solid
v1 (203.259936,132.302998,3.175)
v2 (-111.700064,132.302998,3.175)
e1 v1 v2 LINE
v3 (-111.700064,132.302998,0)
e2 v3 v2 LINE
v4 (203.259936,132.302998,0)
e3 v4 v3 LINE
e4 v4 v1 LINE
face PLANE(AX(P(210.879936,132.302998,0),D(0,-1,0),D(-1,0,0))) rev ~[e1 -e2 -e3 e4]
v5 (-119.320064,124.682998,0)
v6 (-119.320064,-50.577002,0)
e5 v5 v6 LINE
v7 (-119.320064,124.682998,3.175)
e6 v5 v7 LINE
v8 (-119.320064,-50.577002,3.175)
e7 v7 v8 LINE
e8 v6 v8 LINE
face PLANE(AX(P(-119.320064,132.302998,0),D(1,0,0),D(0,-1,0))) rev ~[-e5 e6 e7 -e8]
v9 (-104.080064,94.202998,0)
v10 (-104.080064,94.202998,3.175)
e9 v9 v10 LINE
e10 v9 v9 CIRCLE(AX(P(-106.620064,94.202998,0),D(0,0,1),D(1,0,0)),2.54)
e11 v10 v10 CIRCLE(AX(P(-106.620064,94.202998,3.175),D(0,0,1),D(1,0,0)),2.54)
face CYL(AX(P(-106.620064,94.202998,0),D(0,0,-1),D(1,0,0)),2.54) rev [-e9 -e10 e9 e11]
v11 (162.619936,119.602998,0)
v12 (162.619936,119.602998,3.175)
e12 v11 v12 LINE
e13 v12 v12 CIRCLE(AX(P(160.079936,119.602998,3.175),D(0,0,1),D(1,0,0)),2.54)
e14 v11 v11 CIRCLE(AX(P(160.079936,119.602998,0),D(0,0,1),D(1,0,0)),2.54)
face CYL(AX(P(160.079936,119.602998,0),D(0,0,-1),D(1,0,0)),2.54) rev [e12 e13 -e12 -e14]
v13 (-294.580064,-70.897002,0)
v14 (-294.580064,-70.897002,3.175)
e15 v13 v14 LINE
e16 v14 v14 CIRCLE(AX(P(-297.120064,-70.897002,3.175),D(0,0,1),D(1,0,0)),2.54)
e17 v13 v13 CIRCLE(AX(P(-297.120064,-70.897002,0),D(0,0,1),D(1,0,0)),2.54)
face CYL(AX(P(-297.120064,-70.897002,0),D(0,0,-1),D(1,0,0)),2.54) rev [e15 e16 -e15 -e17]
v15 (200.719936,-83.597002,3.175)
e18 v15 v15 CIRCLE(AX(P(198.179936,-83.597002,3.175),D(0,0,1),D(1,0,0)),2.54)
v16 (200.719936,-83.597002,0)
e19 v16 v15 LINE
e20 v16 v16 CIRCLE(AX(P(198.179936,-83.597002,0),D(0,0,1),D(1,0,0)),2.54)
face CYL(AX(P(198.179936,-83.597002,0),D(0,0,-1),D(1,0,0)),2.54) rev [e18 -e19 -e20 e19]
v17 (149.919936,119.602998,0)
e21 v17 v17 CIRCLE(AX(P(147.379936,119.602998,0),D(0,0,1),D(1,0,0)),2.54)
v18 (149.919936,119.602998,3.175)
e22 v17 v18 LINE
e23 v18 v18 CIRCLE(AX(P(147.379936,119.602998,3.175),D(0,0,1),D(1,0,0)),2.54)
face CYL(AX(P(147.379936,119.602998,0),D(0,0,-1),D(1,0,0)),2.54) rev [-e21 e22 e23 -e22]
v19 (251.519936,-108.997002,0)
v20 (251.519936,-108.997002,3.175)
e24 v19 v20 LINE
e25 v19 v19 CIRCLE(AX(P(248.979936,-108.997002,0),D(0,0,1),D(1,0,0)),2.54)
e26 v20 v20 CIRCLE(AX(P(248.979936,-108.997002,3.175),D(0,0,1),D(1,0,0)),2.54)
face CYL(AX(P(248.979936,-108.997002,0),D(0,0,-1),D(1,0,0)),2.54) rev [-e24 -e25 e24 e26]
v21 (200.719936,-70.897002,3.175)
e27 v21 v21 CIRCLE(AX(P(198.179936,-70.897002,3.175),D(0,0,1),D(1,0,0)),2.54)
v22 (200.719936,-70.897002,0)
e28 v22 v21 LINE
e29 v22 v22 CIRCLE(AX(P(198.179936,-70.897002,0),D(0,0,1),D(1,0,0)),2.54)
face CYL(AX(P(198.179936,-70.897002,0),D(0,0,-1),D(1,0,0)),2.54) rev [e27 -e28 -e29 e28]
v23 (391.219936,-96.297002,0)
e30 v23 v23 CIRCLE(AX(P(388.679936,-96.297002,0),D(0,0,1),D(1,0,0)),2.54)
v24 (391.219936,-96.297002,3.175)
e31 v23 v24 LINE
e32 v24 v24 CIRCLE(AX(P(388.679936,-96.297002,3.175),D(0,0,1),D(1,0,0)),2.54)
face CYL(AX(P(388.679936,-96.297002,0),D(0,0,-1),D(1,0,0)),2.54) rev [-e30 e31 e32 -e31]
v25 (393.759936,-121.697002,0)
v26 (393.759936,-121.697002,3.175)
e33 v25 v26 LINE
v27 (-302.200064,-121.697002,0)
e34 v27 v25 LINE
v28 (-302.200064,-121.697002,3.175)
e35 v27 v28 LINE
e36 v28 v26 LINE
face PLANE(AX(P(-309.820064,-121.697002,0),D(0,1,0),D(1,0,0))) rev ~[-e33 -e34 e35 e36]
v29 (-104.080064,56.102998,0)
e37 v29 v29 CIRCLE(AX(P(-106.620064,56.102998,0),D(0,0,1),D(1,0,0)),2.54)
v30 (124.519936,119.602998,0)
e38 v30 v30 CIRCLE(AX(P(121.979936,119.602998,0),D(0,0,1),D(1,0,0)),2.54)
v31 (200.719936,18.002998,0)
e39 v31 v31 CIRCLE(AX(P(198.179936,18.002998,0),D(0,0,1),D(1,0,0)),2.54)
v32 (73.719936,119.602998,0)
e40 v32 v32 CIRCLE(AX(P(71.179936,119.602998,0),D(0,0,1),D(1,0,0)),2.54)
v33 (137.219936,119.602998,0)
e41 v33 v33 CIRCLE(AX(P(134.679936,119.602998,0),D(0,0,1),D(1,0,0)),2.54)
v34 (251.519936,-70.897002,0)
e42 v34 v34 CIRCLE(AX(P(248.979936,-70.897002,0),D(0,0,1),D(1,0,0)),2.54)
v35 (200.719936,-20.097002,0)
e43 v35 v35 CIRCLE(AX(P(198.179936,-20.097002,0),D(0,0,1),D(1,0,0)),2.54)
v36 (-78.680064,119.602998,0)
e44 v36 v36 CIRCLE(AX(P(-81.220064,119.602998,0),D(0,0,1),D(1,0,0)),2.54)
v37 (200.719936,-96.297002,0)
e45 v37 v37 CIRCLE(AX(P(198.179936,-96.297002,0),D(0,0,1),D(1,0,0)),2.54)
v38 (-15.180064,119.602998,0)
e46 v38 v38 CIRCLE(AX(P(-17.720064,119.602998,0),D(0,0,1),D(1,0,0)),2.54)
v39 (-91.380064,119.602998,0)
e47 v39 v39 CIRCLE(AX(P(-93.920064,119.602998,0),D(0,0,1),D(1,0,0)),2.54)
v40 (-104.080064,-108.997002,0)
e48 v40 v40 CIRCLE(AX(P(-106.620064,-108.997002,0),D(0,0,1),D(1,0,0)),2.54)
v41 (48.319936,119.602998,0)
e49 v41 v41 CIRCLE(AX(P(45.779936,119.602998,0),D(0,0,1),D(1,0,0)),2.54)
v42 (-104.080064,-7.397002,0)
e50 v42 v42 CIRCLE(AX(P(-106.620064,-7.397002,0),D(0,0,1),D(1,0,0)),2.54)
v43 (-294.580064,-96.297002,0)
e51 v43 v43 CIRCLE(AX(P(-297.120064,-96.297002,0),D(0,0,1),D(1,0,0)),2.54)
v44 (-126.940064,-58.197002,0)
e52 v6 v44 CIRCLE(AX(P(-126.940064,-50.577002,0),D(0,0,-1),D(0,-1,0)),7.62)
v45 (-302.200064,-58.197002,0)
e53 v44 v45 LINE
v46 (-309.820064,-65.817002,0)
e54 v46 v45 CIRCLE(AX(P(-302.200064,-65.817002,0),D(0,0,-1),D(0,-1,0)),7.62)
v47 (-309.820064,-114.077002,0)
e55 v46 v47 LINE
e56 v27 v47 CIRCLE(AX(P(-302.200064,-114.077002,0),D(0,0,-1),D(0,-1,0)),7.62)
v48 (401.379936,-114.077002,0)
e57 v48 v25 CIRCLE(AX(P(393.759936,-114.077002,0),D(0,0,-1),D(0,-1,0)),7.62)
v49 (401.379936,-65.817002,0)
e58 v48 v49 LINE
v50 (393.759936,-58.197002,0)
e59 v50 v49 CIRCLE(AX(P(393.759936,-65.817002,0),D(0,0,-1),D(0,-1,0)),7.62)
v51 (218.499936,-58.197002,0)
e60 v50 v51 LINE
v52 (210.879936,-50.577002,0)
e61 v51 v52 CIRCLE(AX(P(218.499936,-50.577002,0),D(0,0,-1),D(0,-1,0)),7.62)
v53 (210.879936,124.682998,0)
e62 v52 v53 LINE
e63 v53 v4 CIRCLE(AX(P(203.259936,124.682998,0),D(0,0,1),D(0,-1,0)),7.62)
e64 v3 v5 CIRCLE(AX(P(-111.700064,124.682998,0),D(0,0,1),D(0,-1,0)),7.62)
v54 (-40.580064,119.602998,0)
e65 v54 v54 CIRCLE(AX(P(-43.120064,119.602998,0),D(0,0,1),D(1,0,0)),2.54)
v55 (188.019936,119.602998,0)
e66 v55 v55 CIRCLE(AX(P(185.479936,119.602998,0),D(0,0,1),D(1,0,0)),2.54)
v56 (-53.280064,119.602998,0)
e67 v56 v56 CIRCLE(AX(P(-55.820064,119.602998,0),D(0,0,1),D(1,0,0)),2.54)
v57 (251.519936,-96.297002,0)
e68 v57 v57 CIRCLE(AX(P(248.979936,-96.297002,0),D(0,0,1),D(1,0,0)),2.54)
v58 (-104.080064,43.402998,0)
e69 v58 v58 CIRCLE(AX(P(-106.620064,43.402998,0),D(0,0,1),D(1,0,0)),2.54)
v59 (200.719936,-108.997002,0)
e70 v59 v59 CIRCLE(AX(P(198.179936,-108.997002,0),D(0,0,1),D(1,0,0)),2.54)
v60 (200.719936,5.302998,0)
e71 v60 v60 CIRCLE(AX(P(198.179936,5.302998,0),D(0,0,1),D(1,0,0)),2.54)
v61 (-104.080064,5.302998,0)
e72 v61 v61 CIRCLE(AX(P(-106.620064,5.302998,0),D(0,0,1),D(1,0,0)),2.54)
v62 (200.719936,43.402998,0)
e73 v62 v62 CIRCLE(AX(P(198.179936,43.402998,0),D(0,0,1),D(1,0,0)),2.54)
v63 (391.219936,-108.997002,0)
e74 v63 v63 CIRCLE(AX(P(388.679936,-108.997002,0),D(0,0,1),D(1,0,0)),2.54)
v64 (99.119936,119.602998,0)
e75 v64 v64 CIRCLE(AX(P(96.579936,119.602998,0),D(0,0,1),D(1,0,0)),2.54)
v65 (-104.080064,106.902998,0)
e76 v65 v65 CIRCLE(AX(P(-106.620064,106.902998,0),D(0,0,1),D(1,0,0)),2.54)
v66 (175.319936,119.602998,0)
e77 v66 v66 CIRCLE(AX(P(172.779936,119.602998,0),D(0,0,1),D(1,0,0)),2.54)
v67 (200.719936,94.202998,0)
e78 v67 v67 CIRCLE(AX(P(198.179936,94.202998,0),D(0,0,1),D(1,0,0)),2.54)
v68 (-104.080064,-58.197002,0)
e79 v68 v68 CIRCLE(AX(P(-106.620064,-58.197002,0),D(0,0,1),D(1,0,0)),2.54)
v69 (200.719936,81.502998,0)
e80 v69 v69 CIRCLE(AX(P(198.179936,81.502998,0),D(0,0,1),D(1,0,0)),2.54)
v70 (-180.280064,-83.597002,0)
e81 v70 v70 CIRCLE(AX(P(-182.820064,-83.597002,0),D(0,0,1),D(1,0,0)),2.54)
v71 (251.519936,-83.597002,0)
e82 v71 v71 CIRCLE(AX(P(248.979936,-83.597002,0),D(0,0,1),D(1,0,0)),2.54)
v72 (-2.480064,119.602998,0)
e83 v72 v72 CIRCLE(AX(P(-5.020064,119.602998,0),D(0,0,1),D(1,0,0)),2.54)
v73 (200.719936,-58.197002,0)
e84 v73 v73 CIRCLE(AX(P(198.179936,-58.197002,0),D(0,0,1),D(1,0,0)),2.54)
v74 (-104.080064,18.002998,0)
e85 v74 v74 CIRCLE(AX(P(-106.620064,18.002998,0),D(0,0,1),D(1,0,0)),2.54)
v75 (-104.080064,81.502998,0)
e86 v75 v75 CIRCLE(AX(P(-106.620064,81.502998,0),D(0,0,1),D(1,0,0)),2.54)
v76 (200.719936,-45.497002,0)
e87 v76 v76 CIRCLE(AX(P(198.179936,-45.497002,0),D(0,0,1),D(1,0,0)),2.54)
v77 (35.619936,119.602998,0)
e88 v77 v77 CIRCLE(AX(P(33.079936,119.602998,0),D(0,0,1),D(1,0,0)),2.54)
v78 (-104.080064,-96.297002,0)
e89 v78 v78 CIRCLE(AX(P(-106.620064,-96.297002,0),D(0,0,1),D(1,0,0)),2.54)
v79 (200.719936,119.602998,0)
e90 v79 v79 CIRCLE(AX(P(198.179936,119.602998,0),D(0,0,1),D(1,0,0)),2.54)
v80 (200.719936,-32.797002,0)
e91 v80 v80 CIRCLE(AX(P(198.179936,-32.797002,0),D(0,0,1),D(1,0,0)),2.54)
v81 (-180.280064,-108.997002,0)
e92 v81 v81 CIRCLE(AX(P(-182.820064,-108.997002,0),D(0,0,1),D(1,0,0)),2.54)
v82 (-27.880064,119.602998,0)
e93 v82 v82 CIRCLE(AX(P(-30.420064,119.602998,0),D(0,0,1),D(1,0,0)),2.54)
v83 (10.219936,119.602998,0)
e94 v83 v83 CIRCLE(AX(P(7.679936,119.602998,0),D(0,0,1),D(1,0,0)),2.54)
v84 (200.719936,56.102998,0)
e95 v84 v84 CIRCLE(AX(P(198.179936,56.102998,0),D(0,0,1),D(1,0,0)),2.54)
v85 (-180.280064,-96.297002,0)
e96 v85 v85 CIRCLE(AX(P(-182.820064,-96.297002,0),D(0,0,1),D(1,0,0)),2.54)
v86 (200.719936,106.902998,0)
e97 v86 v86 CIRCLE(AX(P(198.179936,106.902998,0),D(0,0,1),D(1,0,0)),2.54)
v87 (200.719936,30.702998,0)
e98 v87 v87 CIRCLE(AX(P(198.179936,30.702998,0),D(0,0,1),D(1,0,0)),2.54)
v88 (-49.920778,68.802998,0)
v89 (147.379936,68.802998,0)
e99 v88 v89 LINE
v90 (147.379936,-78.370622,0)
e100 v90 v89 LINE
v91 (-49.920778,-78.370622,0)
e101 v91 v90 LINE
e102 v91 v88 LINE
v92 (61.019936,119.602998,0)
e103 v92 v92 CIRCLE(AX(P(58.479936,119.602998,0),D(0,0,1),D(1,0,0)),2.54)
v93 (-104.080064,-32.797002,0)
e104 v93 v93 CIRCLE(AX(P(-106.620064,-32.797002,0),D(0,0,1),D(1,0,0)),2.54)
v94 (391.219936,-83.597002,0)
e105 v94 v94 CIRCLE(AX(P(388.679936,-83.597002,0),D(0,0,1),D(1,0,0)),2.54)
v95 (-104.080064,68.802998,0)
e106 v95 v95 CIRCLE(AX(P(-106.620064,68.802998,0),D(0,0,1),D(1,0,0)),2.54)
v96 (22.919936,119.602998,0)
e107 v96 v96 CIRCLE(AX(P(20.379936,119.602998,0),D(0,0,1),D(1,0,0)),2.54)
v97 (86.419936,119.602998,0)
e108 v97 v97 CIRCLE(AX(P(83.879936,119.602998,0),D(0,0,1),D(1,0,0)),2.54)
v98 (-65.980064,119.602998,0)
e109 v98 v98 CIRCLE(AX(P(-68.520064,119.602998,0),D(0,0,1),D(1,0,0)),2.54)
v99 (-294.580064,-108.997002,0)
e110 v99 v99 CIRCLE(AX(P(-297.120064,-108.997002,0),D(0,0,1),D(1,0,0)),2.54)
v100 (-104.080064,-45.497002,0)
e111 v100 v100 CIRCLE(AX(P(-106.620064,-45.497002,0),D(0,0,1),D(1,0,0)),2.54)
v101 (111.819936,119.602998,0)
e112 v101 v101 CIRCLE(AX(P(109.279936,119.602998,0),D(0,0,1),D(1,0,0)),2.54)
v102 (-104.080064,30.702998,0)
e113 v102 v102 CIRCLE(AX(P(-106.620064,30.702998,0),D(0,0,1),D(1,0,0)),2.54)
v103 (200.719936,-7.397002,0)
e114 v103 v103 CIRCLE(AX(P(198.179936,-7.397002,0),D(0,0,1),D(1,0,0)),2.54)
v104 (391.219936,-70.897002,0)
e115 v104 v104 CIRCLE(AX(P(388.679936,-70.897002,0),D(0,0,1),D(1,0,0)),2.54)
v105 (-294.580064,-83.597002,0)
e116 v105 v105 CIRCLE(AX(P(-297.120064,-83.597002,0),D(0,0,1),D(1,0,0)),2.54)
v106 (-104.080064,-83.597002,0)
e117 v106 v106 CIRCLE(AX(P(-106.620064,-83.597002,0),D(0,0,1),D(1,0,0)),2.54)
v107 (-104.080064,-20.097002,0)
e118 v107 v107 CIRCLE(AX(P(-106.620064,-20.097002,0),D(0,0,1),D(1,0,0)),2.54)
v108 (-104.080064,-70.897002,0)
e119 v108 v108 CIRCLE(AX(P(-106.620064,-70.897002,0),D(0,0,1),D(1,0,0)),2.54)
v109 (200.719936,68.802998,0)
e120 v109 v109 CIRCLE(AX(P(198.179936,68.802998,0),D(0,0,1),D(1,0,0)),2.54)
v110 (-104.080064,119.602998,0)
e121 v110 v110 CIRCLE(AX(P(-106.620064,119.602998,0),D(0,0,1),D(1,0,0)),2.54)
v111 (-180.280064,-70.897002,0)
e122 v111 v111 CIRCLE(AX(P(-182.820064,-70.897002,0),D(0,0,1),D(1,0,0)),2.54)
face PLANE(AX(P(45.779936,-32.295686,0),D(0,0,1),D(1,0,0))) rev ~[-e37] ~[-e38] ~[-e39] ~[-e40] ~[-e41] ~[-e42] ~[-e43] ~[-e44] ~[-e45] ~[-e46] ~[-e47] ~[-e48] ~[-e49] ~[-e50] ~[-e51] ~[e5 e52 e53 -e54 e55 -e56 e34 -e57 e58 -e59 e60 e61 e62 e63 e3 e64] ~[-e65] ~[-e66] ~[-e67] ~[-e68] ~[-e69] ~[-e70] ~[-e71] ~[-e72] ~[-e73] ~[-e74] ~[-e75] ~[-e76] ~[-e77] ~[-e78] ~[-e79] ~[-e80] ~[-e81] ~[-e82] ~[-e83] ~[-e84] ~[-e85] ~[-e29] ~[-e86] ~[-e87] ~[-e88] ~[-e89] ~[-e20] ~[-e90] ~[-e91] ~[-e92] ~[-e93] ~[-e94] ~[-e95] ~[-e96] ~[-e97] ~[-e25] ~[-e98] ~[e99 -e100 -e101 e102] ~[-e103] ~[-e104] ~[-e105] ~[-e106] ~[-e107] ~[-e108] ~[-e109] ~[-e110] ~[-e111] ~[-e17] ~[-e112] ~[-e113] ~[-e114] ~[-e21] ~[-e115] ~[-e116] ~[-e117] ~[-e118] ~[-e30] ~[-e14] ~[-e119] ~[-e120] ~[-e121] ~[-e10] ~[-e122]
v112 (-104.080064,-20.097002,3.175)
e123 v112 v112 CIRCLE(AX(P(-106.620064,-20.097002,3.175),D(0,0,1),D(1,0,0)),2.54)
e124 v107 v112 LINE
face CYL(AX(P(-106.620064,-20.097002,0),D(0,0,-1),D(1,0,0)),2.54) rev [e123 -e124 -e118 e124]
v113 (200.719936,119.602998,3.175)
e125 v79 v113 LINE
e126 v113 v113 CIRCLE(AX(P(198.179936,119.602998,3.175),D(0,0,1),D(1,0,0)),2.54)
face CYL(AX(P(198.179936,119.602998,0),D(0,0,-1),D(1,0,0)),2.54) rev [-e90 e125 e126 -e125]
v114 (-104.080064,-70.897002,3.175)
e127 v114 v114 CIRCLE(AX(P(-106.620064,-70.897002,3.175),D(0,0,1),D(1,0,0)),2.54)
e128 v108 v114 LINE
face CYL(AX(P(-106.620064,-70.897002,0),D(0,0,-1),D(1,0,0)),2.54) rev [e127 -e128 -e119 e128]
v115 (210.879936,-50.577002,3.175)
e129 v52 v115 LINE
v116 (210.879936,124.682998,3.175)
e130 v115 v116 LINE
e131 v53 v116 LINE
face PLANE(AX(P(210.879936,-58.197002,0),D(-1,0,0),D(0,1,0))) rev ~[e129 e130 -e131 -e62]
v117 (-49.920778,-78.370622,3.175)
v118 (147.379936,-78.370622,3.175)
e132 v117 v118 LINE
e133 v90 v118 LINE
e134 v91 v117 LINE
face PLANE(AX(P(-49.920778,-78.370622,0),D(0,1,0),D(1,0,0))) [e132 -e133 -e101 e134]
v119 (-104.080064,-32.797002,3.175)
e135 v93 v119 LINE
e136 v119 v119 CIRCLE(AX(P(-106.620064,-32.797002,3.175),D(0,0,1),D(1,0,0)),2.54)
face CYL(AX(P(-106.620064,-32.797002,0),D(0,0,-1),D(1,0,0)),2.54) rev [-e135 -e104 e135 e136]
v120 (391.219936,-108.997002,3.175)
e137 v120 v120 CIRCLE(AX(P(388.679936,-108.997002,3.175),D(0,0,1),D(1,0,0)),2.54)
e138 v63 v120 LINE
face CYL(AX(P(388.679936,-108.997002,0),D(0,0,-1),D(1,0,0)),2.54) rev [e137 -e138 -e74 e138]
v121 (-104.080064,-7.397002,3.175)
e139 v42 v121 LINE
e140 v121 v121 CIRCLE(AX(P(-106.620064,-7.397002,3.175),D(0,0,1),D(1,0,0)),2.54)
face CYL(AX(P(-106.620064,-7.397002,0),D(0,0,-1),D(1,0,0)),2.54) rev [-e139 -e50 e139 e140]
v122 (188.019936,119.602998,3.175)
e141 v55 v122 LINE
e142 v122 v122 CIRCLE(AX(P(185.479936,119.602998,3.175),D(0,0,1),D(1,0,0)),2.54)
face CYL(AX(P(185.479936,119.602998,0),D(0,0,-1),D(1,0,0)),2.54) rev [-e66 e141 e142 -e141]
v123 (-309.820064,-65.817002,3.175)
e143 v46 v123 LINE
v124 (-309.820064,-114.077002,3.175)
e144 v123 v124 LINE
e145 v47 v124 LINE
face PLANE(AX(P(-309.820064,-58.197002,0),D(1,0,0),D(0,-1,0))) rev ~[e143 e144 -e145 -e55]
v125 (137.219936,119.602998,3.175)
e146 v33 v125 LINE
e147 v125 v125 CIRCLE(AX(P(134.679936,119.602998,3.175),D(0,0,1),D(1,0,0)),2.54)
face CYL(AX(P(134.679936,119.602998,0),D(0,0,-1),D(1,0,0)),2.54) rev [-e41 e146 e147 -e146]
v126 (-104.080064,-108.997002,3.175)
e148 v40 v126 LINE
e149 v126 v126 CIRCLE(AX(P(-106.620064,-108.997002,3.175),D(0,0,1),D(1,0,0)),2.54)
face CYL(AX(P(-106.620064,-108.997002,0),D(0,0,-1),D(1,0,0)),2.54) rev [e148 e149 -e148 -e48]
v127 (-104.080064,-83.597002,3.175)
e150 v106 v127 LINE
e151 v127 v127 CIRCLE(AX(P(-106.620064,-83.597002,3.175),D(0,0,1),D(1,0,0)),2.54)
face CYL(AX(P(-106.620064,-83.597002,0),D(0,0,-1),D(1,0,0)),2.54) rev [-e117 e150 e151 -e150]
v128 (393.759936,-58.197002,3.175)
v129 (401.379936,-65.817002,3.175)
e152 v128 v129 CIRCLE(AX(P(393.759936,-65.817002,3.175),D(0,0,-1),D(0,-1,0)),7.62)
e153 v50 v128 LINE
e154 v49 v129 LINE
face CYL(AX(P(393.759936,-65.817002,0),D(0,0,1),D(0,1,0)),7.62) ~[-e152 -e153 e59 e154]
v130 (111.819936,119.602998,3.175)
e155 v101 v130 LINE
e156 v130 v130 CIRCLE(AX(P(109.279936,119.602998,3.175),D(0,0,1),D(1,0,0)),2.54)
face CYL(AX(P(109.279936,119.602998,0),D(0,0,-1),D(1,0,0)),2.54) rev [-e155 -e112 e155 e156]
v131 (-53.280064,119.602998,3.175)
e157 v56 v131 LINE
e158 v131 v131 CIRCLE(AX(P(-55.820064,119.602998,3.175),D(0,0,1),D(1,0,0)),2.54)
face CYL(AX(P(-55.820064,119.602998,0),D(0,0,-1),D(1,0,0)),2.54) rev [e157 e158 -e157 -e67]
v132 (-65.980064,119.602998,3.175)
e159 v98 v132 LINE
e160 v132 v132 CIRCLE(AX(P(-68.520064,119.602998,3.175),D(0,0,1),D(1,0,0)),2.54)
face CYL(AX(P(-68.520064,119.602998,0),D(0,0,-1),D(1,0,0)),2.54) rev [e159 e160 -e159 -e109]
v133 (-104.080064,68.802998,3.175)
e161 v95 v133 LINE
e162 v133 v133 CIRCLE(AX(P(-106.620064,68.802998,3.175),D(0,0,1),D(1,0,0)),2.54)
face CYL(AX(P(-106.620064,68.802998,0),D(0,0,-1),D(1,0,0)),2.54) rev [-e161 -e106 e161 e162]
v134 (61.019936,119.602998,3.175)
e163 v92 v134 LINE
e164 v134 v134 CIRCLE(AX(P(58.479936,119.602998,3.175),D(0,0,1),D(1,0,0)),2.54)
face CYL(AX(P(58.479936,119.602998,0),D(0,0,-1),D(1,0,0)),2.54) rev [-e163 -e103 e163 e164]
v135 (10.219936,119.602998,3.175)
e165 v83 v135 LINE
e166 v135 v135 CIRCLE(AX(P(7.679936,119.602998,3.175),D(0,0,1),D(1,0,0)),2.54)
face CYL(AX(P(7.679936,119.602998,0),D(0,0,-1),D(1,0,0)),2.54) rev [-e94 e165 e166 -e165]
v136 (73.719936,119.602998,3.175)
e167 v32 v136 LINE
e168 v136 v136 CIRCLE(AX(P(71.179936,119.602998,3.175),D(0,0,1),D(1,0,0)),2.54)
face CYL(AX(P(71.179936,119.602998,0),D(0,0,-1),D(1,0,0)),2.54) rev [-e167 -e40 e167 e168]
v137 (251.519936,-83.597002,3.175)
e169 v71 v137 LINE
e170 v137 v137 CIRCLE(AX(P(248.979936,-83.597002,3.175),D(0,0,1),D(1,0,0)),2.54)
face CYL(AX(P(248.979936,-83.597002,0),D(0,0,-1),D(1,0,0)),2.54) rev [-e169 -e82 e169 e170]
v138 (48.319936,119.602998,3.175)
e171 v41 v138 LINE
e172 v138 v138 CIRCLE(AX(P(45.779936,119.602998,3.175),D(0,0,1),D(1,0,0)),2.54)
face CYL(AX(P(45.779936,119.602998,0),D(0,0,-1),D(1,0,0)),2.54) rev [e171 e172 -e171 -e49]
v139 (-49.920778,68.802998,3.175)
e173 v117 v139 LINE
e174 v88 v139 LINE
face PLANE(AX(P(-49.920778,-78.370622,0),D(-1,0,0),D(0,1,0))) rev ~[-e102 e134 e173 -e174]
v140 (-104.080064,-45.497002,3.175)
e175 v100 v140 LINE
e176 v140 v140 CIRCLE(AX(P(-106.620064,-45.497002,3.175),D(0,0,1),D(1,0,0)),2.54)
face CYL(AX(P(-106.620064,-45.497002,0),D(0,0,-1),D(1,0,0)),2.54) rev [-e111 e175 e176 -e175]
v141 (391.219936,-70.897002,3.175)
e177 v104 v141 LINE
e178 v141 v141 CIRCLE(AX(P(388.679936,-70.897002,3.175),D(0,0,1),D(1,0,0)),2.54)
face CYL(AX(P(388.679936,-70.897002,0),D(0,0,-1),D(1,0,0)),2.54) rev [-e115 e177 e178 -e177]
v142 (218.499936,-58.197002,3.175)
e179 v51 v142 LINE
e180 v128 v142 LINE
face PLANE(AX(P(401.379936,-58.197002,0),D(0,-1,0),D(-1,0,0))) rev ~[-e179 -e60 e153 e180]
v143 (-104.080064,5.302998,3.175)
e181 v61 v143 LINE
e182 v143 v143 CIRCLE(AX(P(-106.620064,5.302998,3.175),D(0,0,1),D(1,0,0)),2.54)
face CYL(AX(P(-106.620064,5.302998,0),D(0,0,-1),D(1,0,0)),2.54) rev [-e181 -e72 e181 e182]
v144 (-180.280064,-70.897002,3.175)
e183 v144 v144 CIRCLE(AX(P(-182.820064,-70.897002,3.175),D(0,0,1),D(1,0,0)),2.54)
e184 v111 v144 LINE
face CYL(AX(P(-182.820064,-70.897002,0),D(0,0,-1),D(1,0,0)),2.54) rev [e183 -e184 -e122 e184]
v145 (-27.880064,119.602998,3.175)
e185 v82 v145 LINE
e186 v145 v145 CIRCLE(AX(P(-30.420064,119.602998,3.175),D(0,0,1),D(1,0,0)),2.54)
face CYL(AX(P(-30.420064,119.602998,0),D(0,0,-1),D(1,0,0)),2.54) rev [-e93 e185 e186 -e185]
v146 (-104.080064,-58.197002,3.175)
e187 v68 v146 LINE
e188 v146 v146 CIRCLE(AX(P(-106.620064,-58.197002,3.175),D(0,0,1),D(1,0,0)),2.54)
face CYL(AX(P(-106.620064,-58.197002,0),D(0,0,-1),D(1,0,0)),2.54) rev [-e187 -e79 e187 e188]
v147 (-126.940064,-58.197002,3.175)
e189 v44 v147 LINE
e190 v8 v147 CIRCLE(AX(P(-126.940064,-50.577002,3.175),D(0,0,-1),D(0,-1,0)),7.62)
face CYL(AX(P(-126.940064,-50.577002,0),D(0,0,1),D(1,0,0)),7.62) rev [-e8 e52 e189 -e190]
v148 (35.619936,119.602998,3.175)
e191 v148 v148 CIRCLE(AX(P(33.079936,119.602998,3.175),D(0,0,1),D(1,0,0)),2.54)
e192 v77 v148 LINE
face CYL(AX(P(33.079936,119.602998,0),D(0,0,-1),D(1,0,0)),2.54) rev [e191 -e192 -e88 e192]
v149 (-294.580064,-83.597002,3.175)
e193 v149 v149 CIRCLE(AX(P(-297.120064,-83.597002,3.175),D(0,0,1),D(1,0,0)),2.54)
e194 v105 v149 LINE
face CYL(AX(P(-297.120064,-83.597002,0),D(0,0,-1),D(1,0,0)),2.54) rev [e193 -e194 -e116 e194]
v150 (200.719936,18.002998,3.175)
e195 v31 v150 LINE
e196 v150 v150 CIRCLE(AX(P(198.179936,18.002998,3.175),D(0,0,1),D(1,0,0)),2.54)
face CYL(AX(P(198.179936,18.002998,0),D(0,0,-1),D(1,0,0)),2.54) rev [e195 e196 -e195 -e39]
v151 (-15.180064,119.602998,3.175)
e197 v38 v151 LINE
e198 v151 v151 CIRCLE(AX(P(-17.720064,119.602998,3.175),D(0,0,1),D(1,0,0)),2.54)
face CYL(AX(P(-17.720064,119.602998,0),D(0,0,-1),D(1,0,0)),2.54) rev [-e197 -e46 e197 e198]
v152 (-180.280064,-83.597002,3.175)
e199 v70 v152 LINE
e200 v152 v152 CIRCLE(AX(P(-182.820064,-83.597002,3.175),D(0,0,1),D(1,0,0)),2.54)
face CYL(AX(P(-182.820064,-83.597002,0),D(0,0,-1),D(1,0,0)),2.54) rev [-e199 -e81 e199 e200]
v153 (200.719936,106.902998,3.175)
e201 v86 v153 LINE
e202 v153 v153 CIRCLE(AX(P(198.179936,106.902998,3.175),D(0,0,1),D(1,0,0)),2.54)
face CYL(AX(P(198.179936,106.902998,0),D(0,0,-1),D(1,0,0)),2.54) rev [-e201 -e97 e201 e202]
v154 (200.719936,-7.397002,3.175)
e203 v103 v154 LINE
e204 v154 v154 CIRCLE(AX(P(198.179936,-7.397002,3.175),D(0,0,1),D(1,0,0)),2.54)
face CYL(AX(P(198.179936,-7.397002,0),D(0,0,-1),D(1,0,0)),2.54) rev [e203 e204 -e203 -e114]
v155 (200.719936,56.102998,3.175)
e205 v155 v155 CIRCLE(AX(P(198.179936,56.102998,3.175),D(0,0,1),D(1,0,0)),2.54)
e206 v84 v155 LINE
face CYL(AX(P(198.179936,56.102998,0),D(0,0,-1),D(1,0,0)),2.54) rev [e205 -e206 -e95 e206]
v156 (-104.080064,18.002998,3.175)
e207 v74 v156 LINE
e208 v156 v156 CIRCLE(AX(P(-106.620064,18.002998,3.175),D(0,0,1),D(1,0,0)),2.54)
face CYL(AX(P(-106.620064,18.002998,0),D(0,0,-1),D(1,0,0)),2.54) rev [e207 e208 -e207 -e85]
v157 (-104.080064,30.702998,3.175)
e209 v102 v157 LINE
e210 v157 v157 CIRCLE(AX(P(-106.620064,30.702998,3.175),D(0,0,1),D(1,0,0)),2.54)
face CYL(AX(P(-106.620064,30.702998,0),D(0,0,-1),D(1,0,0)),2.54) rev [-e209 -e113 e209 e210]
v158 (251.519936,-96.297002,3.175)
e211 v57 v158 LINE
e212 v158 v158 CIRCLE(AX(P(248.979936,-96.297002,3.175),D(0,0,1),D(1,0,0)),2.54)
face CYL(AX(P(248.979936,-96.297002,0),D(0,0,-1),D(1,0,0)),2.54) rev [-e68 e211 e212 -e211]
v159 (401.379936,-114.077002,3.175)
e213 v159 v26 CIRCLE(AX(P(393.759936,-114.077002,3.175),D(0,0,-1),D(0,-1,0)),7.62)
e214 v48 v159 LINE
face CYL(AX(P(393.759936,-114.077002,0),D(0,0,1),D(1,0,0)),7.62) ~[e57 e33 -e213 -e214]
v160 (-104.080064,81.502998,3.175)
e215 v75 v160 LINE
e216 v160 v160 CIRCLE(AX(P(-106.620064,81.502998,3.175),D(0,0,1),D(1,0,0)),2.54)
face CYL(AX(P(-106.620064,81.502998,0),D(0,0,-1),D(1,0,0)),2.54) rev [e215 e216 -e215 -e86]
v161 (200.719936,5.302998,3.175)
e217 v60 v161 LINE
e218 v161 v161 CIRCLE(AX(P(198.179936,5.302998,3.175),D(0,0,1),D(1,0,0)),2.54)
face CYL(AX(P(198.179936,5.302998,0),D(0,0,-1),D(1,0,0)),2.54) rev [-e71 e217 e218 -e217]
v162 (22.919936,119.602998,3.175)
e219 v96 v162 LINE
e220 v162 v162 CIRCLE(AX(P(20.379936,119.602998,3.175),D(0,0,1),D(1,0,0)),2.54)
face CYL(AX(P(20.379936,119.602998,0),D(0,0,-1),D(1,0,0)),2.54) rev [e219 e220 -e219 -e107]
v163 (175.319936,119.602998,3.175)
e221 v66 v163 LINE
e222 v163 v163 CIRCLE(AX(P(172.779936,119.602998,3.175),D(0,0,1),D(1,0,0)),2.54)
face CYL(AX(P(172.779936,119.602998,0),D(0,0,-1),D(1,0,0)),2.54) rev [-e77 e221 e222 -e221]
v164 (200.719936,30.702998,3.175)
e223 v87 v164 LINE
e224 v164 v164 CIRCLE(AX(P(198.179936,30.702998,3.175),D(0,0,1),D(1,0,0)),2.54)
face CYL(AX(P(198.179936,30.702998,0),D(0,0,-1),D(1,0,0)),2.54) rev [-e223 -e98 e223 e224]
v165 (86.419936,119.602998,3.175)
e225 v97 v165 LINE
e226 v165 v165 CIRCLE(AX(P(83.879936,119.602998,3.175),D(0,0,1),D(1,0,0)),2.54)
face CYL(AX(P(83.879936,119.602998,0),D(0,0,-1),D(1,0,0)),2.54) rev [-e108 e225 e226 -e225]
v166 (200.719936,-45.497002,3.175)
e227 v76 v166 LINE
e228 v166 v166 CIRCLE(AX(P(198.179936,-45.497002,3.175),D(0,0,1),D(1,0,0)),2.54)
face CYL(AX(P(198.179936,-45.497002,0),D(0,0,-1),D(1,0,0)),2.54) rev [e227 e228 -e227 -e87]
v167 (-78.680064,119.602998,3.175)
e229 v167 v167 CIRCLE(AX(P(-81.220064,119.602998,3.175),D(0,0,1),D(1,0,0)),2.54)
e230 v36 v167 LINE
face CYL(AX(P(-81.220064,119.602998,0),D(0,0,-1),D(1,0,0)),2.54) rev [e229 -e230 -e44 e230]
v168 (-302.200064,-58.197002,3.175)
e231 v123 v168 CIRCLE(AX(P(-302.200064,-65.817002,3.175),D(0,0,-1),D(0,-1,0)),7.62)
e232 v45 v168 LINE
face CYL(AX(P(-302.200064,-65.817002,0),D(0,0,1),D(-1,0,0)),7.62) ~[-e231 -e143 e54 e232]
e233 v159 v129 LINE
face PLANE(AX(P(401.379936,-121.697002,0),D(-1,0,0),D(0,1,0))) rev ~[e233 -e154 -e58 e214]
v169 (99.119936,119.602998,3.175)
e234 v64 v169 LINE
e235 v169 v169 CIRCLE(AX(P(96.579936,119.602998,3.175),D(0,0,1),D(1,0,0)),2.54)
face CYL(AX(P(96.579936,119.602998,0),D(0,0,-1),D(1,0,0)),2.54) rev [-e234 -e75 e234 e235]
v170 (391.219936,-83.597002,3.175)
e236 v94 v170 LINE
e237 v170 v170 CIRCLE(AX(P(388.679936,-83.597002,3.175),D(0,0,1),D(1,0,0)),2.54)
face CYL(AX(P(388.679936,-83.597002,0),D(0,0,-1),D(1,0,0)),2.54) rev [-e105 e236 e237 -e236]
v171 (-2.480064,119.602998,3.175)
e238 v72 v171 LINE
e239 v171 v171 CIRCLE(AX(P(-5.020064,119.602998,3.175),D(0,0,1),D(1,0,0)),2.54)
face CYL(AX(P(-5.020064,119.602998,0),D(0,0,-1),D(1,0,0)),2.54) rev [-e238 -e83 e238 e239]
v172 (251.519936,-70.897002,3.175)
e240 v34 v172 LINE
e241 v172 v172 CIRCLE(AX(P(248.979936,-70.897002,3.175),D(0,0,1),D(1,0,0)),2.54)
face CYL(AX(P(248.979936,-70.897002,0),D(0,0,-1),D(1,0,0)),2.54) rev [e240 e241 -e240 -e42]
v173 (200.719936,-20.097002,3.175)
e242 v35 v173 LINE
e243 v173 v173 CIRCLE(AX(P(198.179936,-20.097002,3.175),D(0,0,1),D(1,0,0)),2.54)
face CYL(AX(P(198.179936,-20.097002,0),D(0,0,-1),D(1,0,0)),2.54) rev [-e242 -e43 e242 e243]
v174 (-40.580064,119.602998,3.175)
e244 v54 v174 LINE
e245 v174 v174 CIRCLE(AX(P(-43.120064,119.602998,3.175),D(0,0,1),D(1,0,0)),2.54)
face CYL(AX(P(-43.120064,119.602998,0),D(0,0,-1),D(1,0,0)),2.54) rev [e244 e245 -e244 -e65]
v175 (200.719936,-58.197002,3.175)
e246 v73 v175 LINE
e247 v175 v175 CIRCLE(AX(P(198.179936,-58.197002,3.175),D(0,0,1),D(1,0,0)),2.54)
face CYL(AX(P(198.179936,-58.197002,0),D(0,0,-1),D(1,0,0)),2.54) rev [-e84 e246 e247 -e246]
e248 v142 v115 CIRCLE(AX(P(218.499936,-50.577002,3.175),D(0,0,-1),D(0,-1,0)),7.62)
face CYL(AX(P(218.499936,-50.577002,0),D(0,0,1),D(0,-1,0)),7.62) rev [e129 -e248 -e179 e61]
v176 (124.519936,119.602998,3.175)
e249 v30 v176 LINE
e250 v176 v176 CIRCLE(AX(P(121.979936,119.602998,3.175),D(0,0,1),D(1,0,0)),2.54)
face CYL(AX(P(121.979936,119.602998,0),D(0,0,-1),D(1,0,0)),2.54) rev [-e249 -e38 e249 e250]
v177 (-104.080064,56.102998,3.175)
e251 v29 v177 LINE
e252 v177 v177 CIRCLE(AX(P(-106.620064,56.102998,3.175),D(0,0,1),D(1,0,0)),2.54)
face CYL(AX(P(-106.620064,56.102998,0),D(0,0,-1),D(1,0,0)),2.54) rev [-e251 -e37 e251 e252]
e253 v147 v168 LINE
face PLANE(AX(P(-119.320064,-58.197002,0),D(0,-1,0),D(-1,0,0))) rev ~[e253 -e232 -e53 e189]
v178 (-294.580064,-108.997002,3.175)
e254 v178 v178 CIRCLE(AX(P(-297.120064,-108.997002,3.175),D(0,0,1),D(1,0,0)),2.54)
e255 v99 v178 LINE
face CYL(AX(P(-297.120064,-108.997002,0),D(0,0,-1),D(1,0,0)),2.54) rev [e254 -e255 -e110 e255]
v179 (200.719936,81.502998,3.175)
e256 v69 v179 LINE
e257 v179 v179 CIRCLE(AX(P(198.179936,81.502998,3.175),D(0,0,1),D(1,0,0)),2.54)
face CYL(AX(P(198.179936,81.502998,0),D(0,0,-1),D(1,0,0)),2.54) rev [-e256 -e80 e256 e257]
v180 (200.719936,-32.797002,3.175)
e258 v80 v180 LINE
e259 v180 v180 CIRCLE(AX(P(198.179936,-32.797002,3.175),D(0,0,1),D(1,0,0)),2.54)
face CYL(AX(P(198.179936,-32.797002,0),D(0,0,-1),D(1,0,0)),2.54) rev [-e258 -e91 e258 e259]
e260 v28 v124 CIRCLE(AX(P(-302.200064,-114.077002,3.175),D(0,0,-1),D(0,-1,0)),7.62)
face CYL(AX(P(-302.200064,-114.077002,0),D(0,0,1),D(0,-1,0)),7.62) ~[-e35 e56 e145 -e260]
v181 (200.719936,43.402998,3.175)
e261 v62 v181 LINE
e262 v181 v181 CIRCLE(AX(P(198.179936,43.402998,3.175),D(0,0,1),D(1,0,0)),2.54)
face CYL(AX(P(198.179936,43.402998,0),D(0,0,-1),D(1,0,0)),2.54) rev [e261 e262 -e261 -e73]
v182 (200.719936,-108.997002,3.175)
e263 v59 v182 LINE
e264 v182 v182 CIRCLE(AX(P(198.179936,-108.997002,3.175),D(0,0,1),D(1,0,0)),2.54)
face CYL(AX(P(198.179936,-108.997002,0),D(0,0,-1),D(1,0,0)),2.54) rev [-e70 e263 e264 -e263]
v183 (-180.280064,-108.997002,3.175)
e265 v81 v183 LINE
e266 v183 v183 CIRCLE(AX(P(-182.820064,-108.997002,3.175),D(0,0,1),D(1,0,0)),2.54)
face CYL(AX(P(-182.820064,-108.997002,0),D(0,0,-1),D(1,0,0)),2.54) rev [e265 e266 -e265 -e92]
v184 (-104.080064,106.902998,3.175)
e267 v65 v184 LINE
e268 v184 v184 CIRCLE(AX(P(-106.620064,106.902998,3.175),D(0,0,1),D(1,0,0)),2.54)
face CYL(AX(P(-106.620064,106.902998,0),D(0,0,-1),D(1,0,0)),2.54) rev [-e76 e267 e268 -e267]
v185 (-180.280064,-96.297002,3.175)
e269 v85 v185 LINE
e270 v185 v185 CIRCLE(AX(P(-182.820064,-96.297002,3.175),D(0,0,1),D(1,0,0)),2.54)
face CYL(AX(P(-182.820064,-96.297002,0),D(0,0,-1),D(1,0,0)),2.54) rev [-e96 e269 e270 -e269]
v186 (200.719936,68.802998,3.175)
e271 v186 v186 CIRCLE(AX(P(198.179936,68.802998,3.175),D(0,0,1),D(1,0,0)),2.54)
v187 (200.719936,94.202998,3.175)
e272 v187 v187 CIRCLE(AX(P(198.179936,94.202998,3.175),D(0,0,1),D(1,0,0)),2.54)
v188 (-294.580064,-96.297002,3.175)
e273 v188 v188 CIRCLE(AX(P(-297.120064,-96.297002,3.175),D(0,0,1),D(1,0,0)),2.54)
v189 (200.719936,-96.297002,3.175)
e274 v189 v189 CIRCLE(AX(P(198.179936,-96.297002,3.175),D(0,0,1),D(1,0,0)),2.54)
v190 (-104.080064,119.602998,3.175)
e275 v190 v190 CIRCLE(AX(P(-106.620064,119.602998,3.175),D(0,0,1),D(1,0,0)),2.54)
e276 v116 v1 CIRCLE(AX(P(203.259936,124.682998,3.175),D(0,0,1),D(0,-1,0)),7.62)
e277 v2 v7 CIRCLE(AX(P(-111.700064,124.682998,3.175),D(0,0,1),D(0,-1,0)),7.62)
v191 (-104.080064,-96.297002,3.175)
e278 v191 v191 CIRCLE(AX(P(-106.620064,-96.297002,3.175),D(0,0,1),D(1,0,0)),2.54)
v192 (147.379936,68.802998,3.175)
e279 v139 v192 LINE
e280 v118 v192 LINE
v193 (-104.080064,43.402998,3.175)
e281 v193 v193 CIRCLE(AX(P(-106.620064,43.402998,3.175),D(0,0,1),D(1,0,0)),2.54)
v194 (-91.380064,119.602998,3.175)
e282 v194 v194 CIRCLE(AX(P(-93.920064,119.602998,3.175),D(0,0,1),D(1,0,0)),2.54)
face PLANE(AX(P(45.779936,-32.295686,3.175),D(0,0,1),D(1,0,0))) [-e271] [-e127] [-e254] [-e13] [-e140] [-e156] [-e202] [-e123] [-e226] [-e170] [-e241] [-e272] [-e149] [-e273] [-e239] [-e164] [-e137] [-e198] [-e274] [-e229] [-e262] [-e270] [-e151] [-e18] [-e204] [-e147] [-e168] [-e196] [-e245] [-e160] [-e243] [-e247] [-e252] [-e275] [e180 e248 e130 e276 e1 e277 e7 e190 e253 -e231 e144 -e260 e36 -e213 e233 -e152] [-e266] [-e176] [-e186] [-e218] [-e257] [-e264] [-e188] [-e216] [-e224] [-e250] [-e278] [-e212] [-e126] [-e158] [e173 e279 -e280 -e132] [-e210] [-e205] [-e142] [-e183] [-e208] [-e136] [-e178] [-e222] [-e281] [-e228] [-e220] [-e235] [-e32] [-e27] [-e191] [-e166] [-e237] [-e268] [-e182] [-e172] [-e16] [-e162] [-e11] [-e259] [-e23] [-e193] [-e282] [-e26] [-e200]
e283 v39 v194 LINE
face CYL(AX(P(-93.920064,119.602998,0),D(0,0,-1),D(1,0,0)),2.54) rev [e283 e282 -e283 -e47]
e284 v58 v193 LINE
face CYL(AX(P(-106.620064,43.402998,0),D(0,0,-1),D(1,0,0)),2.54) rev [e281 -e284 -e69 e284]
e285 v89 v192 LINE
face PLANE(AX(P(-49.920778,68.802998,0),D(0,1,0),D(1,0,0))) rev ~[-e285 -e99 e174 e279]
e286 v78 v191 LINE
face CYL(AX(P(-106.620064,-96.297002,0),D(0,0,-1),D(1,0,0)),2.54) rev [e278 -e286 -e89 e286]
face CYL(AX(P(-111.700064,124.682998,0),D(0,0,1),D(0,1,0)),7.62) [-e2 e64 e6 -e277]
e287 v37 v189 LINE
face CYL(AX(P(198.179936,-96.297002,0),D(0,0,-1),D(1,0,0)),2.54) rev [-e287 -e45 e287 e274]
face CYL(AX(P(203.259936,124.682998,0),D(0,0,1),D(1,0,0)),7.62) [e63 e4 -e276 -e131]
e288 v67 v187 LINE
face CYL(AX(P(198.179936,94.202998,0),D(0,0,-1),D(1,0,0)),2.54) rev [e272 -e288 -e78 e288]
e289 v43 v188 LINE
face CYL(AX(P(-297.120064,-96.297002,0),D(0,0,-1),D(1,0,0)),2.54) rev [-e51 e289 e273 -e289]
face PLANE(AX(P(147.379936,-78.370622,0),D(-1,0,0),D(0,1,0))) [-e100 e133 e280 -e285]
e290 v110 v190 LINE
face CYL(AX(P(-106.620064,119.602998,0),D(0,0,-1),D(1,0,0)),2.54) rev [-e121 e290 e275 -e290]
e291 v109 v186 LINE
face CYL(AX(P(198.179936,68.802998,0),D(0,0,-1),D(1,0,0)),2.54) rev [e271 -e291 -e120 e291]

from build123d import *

# Parameters (mm, degrees)
SKETCH1_R           = 2.54
SKETCH1_W           = 197.300713287
SKETCH1_H           = 147.173619558
BOSS_EXTRUDE1_DEPTH = 3.175
FILLET1_R           = 7.62
FILLET2_R           = 7.62
FILLET3_R           = 7.62


with BuildPart() as part:
    # Sketch1 → Boss-Extrude1 (new body)
    with BuildSketch(Plane.XY):
        Polygon((-309.82006433, -121.697002141), (401.37993567, -121.697002141), (401.37993567, -58.197002141), (210.87993567, -58.197002141), (210.87993567, 132.302997859), (-119.32006433, 132.302997859), (-119.32006433, -58.197002141), (-309.82006433, -58.197002141), align=None)
        with Locations((-297.12006433, -70.897002141)):
            Circle(SKETCH1_R, mode=Mode.SUBTRACT)
        with Locations((388.67993567, -70.897002141)):
            Circle(SKETCH1_R, mode=Mode.SUBTRACT)
        with Locations((388.67993567, -83.597002141)):
            Circle(SKETCH1_R, mode=Mode.SUBTRACT)
        with Locations((388.67993567, -96.297002141)):
            Circle(SKETCH1_R, mode=Mode.SUBTRACT)
        with Locations((388.67993567, -108.997002141)):
            Circle(SKETCH1_R, mode=Mode.SUBTRACT)
        with Locations((-297.12006433, -83.597002141)):
            Circle(SKETCH1_R, mode=Mode.SUBTRACT)
        with Locations((-297.12006433, -96.297002141)):
            Circle(SKETCH1_R, mode=Mode.SUBTRACT)
        with Locations((-297.12006433, -108.997002141)):
            Circle(SKETCH1_R, mode=Mode.SUBTRACT)
        with Locations((-182.82006433, -70.897002141)):
            Circle(SKETCH1_R, mode=Mode.SUBTRACT)
        with Locations((248.97993567, -70.897002141)):
            Circle(SKETCH1_R, mode=Mode.SUBTRACT)
        with Locations((248.97993567, -83.597002141)):
            Circle(SKETCH1_R, mode=Mode.SUBTRACT)
        with Locations((248.97993567, -96.297002141)):
            Circle(SKETCH1_R, mode=Mode.SUBTRACT)
        with Locations((248.97993567, -108.997002141)):
            Circle(SKETCH1_R, mode=Mode.SUBTRACT)
        with Locations((-182.82006433, -83.597002141)):
            Circle(SKETCH1_R, mode=Mode.SUBTRACT)
        with Locations((-182.82006433, -96.297002141)):
            Circle(SKETCH1_R, mode=Mode.SUBTRACT)
        with Locations((-182.82006433, -108.997002141)):
            Circle(SKETCH1_R, mode=Mode.SUBTRACT)
        with Locations((-106.62006433, 119.602997859)):
            Circle(SKETCH1_R, mode=Mode.SUBTRACT)
        with Locations((-93.92006433, 119.602997859)):
            Circle(SKETCH1_R, mode=Mode.SUBTRACT)
        with Locations((-81.22006433, 119.602997859)):
            Circle(SKETCH1_R, mode=Mode.SUBTRACT)
        with Locations((-68.52006433, 119.602997859)):
            Circle(SKETCH1_R, mode=Mode.SUBTRACT)
        with Locations((-55.82006433, 119.602997859)):
            Circle(SKETCH1_R, mode=Mode.SUBTRACT)
        with Locations((-43.12006433, 119.602997859)):
            Circle(SKETCH1_R, mode=Mode.SUBTRACT)
        with Locations((-30.42006433, 119.602997859)):
            Circle(SKETCH1_R, mode=Mode.SUBTRACT)
        with Locations((-17.72006433, 119.602997859)):
            Circle(SKETCH1_R, mode=Mode.SUBTRACT)
        with Locations((-5.02006433, 119.602997859)):
            Circle(SKETCH1_R, mode=Mode.SUBTRACT)
        with Locations((7.67993567, 119.602997859)):
            Circle(SKETCH1_R, mode=Mode.SUBTRACT)
        with Locations((20.37993567, 119.602997859)):
            Circle(SKETCH1_R, mode=Mode.SUBTRACT)
        with Locations((33.07993567, 119.602997859)):
            Circle(SKETCH1_R, mode=Mode.SUBTRACT)
        with Locations((45.77993567, 119.602997859)):
            Circle(SKETCH1_R, mode=Mode.SUBTRACT)
        with Locations((58.47993567, 119.602997859)):
            Circle(SKETCH1_R, mode=Mode.SUBTRACT)
        with Locations((71.17993567, 119.602997859)):
            Circle(SKETCH1_R, mode=Mode.SUBTRACT)
        with Locations((83.87993567, 119.602997859)):
            Circle(SKETCH1_R, mode=Mode.SUBTRACT)
        with Locations((96.57993567, 119.602997859)):
            Circle(SKETCH1_R, mode=Mode.SUBTRACT)
        with Locations((109.27993567, 119.602997859)):
            Circle(SKETCH1_R, mode=Mode.SUBTRACT)
        with Locations((121.97993567, 119.602997859)):
            Circle(SKETCH1_R, mode=Mode.SUBTRACT)
        with Locations((134.67993567, 119.602997859)):
            Circle(SKETCH1_R, mode=Mode.SUBTRACT)
        with Locations((147.37993567, 119.602997859)):
            Circle(SKETCH1_R, mode=Mode.SUBTRACT)
        with Locations((160.07993567, 119.602997859)):
            Circle(SKETCH1_R, mode=Mode.SUBTRACT)
        with Locations((172.77993567, 119.602997859)):
            Circle(SKETCH1_R, mode=Mode.SUBTRACT)
        with Locations((185.47993567, 119.602997859)):
            Circle(SKETCH1_R, mode=Mode.SUBTRACT)
        with Locations((198.17993567, 119.602997859)):
            Circle(SKETCH1_R, mode=Mode.SUBTRACT)
        with Locations((198.17993567, 106.902997859)):
            Circle(SKETCH1_R, mode=Mode.SUBTRACT)
        with Locations((198.17993567, 94.202997859)):
            Circle(SKETCH1_R, mode=Mode.SUBTRACT)
        with Locations((198.17993567, 81.502997859)):
            Circle(SKETCH1_R, mode=Mode.SUBTRACT)
        with Locations((198.17993567, 68.802997859)):
            Circle(SKETCH1_R, mode=Mode.SUBTRACT)
        with Locations((198.17993567, 56.102997859)):
            Circle(SKETCH1_R, mode=Mode.SUBTRACT)
        with Locations((198.17993567, 43.402997859)):
            Circle(SKETCH1_R, mode=Mode.SUBTRACT)
        with Locations((198.17993567, 30.702997859)):
            Circle(SKETCH1_R, mode=Mode.SUBTRACT)
        with Locations((198.17993567, 18.002997859)):
            Circle(SKETCH1_R, mode=Mode.SUBTRACT)
        with Locations((198.17993567, 5.302997859)):
            Circle(SKETCH1_R, mode=Mode.SUBTRACT)
        with Locations((198.17993567, -7.397002141)):
            Circle(SKETCH1_R, mode=Mode.SUBTRACT)
        with Locations((198.17993567, -20.097002141)):
            Circle(SKETCH1_R, mode=Mode.SUBTRACT)
        with Locations((198.17993567, -32.797002141)):
            Circle(SKETCH1_R, mode=Mode.SUBTRACT)
        with Locations((198.17993567, -45.497002141)):
            Circle(SKETCH1_R, mode=Mode.SUBTRACT)
        with Locations((198.17993567, -58.197002141)):
            Circle(SKETCH1_R, mode=Mode.SUBTRACT)
        with Locations((198.17993567, -70.897002141)):
            Circle(SKETCH1_R, mode=Mode.SUBTRACT)
        with Locations((198.17993567, -83.597002141)):
            Circle(SKETCH1_R, mode=Mode.SUBTRACT)
        with Locations((198.17993567, -96.297002141)):
            Circle(SKETCH1_R, mode=Mode.SUBTRACT)
        with Locations((198.17993567, -108.997002141)):
            Circle(SKETCH1_R, mode=Mode.SUBTRACT)
        with Locations((-106.62006433, 106.902997859)):
            Circle(SKETCH1_R, mode=Mode.SUBTRACT)
        with Locations((-106.62006433, 94.202997859)):
            Circle(SKETCH1_R, mode=Mode.SUBTRACT)
        with Locations((-106.62006433, 81.502997859)):
            Circle(SKETCH1_R, mode=Mode.SUBTRACT)
        with Locations((-106.62006433, 68.802997859)):
            Circle(SKETCH1_R, mode=Mode.SUBTRACT)
        with Locations((-106.62006433, 56.102997859)):
            Circle(SKETCH1_R, mode=Mode.SUBTRACT)
        with Locations((-106.62006433, 43.402997859)):
            Circle(SKETCH1_R, mode=Mode.SUBTRACT)
        with Locations((-106.62006433, 30.702997859)):
            Circle(SKETCH1_R, mode=Mode.SUBTRACT)
        with Locations((-106.62006433, 18.002997859)):
            Circle(SKETCH1_R, mode=Mode.SUBTRACT)
        with Locations((-106.62006433, 5.302997859)):
            Circle(SKETCH1_R, mode=Mode.SUBTRACT)
        with Locations((-106.62006433, -7.397002141)):
            Circle(SKETCH1_R, mode=Mode.SUBTRACT)
        with Locations((-106.62006433, -20.097002141)):
            Circle(SKETCH1_R, mode=Mode.SUBTRACT)
        with Locations((-106.62006433, -32.797002141)):
            Circle(SKETCH1_R, mode=Mode.SUBTRACT)
        with Locations((-106.62006433, -45.497002141)):
            Circle(SKETCH1_R, mode=Mode.SUBTRACT)
        with Locations((-106.62006433, -58.197002141)):
            Circle(SKETCH1_R, mode=Mode.SUBTRACT)
        with Locations((-106.62006433, -70.897002141)):
            Circle(SKETCH1_R, mode=Mode.SUBTRACT)
        with Locations((-106.62006433, -83.597002141)):
            Circle(SKETCH1_R, mode=Mode.SUBTRACT)
        with Locations((-106.62006433, -96.297002141)):
            Circle(SKETCH1_R, mode=Mode.SUBTRACT)
        with Locations((-106.62006433, -108.997002141)):
            Circle(SKETCH1_R, mode=Mode.SUBTRACT)
        with Locations((48.729579027, -4.78381192)):
            Rectangle(SKETCH1_W, SKETCH1_H, mode=Mode.SUBTRACT)
    extrude(amount=BOSS_EXTRUDE1_DEPTH)

    # Fillet1
    fillet1_edges = [part.edges().sort_by_distance(p)[0] for p in [
        (210.87993567, -58.197002141, 1.5875),
    ]]
    fillet(fillet1_edges, radius=FILLET1_R)

    # Fillet2
    fillet2_edges = [part.edges().sort_by_distance(p)[0] for p in [
        (-309.82006433, -58.197002141, 1.5875),
        (210.87993567, 132.302997859, 1.5875),
        (401.37993567, -58.197002141, 1.5875),
        (401.37993567, -121.697002141, 1.5875),
        (-309.82006433, -121.697002141, 1.5875),
    ]]
    fillet(fillet2_edges, radius=FILLET2_R)

    # Fillet3
    fillet3_edges = [part.edges().sort_by_distance(p)[0] for p in [
        (-119.32006433, -58.197002141, 1.5875),
        (-119.32006433, 132.302997859, 1.5875),
    ]]
    fillet(fillet3_edges, radius=FILLET3_R)


solid = part.part
